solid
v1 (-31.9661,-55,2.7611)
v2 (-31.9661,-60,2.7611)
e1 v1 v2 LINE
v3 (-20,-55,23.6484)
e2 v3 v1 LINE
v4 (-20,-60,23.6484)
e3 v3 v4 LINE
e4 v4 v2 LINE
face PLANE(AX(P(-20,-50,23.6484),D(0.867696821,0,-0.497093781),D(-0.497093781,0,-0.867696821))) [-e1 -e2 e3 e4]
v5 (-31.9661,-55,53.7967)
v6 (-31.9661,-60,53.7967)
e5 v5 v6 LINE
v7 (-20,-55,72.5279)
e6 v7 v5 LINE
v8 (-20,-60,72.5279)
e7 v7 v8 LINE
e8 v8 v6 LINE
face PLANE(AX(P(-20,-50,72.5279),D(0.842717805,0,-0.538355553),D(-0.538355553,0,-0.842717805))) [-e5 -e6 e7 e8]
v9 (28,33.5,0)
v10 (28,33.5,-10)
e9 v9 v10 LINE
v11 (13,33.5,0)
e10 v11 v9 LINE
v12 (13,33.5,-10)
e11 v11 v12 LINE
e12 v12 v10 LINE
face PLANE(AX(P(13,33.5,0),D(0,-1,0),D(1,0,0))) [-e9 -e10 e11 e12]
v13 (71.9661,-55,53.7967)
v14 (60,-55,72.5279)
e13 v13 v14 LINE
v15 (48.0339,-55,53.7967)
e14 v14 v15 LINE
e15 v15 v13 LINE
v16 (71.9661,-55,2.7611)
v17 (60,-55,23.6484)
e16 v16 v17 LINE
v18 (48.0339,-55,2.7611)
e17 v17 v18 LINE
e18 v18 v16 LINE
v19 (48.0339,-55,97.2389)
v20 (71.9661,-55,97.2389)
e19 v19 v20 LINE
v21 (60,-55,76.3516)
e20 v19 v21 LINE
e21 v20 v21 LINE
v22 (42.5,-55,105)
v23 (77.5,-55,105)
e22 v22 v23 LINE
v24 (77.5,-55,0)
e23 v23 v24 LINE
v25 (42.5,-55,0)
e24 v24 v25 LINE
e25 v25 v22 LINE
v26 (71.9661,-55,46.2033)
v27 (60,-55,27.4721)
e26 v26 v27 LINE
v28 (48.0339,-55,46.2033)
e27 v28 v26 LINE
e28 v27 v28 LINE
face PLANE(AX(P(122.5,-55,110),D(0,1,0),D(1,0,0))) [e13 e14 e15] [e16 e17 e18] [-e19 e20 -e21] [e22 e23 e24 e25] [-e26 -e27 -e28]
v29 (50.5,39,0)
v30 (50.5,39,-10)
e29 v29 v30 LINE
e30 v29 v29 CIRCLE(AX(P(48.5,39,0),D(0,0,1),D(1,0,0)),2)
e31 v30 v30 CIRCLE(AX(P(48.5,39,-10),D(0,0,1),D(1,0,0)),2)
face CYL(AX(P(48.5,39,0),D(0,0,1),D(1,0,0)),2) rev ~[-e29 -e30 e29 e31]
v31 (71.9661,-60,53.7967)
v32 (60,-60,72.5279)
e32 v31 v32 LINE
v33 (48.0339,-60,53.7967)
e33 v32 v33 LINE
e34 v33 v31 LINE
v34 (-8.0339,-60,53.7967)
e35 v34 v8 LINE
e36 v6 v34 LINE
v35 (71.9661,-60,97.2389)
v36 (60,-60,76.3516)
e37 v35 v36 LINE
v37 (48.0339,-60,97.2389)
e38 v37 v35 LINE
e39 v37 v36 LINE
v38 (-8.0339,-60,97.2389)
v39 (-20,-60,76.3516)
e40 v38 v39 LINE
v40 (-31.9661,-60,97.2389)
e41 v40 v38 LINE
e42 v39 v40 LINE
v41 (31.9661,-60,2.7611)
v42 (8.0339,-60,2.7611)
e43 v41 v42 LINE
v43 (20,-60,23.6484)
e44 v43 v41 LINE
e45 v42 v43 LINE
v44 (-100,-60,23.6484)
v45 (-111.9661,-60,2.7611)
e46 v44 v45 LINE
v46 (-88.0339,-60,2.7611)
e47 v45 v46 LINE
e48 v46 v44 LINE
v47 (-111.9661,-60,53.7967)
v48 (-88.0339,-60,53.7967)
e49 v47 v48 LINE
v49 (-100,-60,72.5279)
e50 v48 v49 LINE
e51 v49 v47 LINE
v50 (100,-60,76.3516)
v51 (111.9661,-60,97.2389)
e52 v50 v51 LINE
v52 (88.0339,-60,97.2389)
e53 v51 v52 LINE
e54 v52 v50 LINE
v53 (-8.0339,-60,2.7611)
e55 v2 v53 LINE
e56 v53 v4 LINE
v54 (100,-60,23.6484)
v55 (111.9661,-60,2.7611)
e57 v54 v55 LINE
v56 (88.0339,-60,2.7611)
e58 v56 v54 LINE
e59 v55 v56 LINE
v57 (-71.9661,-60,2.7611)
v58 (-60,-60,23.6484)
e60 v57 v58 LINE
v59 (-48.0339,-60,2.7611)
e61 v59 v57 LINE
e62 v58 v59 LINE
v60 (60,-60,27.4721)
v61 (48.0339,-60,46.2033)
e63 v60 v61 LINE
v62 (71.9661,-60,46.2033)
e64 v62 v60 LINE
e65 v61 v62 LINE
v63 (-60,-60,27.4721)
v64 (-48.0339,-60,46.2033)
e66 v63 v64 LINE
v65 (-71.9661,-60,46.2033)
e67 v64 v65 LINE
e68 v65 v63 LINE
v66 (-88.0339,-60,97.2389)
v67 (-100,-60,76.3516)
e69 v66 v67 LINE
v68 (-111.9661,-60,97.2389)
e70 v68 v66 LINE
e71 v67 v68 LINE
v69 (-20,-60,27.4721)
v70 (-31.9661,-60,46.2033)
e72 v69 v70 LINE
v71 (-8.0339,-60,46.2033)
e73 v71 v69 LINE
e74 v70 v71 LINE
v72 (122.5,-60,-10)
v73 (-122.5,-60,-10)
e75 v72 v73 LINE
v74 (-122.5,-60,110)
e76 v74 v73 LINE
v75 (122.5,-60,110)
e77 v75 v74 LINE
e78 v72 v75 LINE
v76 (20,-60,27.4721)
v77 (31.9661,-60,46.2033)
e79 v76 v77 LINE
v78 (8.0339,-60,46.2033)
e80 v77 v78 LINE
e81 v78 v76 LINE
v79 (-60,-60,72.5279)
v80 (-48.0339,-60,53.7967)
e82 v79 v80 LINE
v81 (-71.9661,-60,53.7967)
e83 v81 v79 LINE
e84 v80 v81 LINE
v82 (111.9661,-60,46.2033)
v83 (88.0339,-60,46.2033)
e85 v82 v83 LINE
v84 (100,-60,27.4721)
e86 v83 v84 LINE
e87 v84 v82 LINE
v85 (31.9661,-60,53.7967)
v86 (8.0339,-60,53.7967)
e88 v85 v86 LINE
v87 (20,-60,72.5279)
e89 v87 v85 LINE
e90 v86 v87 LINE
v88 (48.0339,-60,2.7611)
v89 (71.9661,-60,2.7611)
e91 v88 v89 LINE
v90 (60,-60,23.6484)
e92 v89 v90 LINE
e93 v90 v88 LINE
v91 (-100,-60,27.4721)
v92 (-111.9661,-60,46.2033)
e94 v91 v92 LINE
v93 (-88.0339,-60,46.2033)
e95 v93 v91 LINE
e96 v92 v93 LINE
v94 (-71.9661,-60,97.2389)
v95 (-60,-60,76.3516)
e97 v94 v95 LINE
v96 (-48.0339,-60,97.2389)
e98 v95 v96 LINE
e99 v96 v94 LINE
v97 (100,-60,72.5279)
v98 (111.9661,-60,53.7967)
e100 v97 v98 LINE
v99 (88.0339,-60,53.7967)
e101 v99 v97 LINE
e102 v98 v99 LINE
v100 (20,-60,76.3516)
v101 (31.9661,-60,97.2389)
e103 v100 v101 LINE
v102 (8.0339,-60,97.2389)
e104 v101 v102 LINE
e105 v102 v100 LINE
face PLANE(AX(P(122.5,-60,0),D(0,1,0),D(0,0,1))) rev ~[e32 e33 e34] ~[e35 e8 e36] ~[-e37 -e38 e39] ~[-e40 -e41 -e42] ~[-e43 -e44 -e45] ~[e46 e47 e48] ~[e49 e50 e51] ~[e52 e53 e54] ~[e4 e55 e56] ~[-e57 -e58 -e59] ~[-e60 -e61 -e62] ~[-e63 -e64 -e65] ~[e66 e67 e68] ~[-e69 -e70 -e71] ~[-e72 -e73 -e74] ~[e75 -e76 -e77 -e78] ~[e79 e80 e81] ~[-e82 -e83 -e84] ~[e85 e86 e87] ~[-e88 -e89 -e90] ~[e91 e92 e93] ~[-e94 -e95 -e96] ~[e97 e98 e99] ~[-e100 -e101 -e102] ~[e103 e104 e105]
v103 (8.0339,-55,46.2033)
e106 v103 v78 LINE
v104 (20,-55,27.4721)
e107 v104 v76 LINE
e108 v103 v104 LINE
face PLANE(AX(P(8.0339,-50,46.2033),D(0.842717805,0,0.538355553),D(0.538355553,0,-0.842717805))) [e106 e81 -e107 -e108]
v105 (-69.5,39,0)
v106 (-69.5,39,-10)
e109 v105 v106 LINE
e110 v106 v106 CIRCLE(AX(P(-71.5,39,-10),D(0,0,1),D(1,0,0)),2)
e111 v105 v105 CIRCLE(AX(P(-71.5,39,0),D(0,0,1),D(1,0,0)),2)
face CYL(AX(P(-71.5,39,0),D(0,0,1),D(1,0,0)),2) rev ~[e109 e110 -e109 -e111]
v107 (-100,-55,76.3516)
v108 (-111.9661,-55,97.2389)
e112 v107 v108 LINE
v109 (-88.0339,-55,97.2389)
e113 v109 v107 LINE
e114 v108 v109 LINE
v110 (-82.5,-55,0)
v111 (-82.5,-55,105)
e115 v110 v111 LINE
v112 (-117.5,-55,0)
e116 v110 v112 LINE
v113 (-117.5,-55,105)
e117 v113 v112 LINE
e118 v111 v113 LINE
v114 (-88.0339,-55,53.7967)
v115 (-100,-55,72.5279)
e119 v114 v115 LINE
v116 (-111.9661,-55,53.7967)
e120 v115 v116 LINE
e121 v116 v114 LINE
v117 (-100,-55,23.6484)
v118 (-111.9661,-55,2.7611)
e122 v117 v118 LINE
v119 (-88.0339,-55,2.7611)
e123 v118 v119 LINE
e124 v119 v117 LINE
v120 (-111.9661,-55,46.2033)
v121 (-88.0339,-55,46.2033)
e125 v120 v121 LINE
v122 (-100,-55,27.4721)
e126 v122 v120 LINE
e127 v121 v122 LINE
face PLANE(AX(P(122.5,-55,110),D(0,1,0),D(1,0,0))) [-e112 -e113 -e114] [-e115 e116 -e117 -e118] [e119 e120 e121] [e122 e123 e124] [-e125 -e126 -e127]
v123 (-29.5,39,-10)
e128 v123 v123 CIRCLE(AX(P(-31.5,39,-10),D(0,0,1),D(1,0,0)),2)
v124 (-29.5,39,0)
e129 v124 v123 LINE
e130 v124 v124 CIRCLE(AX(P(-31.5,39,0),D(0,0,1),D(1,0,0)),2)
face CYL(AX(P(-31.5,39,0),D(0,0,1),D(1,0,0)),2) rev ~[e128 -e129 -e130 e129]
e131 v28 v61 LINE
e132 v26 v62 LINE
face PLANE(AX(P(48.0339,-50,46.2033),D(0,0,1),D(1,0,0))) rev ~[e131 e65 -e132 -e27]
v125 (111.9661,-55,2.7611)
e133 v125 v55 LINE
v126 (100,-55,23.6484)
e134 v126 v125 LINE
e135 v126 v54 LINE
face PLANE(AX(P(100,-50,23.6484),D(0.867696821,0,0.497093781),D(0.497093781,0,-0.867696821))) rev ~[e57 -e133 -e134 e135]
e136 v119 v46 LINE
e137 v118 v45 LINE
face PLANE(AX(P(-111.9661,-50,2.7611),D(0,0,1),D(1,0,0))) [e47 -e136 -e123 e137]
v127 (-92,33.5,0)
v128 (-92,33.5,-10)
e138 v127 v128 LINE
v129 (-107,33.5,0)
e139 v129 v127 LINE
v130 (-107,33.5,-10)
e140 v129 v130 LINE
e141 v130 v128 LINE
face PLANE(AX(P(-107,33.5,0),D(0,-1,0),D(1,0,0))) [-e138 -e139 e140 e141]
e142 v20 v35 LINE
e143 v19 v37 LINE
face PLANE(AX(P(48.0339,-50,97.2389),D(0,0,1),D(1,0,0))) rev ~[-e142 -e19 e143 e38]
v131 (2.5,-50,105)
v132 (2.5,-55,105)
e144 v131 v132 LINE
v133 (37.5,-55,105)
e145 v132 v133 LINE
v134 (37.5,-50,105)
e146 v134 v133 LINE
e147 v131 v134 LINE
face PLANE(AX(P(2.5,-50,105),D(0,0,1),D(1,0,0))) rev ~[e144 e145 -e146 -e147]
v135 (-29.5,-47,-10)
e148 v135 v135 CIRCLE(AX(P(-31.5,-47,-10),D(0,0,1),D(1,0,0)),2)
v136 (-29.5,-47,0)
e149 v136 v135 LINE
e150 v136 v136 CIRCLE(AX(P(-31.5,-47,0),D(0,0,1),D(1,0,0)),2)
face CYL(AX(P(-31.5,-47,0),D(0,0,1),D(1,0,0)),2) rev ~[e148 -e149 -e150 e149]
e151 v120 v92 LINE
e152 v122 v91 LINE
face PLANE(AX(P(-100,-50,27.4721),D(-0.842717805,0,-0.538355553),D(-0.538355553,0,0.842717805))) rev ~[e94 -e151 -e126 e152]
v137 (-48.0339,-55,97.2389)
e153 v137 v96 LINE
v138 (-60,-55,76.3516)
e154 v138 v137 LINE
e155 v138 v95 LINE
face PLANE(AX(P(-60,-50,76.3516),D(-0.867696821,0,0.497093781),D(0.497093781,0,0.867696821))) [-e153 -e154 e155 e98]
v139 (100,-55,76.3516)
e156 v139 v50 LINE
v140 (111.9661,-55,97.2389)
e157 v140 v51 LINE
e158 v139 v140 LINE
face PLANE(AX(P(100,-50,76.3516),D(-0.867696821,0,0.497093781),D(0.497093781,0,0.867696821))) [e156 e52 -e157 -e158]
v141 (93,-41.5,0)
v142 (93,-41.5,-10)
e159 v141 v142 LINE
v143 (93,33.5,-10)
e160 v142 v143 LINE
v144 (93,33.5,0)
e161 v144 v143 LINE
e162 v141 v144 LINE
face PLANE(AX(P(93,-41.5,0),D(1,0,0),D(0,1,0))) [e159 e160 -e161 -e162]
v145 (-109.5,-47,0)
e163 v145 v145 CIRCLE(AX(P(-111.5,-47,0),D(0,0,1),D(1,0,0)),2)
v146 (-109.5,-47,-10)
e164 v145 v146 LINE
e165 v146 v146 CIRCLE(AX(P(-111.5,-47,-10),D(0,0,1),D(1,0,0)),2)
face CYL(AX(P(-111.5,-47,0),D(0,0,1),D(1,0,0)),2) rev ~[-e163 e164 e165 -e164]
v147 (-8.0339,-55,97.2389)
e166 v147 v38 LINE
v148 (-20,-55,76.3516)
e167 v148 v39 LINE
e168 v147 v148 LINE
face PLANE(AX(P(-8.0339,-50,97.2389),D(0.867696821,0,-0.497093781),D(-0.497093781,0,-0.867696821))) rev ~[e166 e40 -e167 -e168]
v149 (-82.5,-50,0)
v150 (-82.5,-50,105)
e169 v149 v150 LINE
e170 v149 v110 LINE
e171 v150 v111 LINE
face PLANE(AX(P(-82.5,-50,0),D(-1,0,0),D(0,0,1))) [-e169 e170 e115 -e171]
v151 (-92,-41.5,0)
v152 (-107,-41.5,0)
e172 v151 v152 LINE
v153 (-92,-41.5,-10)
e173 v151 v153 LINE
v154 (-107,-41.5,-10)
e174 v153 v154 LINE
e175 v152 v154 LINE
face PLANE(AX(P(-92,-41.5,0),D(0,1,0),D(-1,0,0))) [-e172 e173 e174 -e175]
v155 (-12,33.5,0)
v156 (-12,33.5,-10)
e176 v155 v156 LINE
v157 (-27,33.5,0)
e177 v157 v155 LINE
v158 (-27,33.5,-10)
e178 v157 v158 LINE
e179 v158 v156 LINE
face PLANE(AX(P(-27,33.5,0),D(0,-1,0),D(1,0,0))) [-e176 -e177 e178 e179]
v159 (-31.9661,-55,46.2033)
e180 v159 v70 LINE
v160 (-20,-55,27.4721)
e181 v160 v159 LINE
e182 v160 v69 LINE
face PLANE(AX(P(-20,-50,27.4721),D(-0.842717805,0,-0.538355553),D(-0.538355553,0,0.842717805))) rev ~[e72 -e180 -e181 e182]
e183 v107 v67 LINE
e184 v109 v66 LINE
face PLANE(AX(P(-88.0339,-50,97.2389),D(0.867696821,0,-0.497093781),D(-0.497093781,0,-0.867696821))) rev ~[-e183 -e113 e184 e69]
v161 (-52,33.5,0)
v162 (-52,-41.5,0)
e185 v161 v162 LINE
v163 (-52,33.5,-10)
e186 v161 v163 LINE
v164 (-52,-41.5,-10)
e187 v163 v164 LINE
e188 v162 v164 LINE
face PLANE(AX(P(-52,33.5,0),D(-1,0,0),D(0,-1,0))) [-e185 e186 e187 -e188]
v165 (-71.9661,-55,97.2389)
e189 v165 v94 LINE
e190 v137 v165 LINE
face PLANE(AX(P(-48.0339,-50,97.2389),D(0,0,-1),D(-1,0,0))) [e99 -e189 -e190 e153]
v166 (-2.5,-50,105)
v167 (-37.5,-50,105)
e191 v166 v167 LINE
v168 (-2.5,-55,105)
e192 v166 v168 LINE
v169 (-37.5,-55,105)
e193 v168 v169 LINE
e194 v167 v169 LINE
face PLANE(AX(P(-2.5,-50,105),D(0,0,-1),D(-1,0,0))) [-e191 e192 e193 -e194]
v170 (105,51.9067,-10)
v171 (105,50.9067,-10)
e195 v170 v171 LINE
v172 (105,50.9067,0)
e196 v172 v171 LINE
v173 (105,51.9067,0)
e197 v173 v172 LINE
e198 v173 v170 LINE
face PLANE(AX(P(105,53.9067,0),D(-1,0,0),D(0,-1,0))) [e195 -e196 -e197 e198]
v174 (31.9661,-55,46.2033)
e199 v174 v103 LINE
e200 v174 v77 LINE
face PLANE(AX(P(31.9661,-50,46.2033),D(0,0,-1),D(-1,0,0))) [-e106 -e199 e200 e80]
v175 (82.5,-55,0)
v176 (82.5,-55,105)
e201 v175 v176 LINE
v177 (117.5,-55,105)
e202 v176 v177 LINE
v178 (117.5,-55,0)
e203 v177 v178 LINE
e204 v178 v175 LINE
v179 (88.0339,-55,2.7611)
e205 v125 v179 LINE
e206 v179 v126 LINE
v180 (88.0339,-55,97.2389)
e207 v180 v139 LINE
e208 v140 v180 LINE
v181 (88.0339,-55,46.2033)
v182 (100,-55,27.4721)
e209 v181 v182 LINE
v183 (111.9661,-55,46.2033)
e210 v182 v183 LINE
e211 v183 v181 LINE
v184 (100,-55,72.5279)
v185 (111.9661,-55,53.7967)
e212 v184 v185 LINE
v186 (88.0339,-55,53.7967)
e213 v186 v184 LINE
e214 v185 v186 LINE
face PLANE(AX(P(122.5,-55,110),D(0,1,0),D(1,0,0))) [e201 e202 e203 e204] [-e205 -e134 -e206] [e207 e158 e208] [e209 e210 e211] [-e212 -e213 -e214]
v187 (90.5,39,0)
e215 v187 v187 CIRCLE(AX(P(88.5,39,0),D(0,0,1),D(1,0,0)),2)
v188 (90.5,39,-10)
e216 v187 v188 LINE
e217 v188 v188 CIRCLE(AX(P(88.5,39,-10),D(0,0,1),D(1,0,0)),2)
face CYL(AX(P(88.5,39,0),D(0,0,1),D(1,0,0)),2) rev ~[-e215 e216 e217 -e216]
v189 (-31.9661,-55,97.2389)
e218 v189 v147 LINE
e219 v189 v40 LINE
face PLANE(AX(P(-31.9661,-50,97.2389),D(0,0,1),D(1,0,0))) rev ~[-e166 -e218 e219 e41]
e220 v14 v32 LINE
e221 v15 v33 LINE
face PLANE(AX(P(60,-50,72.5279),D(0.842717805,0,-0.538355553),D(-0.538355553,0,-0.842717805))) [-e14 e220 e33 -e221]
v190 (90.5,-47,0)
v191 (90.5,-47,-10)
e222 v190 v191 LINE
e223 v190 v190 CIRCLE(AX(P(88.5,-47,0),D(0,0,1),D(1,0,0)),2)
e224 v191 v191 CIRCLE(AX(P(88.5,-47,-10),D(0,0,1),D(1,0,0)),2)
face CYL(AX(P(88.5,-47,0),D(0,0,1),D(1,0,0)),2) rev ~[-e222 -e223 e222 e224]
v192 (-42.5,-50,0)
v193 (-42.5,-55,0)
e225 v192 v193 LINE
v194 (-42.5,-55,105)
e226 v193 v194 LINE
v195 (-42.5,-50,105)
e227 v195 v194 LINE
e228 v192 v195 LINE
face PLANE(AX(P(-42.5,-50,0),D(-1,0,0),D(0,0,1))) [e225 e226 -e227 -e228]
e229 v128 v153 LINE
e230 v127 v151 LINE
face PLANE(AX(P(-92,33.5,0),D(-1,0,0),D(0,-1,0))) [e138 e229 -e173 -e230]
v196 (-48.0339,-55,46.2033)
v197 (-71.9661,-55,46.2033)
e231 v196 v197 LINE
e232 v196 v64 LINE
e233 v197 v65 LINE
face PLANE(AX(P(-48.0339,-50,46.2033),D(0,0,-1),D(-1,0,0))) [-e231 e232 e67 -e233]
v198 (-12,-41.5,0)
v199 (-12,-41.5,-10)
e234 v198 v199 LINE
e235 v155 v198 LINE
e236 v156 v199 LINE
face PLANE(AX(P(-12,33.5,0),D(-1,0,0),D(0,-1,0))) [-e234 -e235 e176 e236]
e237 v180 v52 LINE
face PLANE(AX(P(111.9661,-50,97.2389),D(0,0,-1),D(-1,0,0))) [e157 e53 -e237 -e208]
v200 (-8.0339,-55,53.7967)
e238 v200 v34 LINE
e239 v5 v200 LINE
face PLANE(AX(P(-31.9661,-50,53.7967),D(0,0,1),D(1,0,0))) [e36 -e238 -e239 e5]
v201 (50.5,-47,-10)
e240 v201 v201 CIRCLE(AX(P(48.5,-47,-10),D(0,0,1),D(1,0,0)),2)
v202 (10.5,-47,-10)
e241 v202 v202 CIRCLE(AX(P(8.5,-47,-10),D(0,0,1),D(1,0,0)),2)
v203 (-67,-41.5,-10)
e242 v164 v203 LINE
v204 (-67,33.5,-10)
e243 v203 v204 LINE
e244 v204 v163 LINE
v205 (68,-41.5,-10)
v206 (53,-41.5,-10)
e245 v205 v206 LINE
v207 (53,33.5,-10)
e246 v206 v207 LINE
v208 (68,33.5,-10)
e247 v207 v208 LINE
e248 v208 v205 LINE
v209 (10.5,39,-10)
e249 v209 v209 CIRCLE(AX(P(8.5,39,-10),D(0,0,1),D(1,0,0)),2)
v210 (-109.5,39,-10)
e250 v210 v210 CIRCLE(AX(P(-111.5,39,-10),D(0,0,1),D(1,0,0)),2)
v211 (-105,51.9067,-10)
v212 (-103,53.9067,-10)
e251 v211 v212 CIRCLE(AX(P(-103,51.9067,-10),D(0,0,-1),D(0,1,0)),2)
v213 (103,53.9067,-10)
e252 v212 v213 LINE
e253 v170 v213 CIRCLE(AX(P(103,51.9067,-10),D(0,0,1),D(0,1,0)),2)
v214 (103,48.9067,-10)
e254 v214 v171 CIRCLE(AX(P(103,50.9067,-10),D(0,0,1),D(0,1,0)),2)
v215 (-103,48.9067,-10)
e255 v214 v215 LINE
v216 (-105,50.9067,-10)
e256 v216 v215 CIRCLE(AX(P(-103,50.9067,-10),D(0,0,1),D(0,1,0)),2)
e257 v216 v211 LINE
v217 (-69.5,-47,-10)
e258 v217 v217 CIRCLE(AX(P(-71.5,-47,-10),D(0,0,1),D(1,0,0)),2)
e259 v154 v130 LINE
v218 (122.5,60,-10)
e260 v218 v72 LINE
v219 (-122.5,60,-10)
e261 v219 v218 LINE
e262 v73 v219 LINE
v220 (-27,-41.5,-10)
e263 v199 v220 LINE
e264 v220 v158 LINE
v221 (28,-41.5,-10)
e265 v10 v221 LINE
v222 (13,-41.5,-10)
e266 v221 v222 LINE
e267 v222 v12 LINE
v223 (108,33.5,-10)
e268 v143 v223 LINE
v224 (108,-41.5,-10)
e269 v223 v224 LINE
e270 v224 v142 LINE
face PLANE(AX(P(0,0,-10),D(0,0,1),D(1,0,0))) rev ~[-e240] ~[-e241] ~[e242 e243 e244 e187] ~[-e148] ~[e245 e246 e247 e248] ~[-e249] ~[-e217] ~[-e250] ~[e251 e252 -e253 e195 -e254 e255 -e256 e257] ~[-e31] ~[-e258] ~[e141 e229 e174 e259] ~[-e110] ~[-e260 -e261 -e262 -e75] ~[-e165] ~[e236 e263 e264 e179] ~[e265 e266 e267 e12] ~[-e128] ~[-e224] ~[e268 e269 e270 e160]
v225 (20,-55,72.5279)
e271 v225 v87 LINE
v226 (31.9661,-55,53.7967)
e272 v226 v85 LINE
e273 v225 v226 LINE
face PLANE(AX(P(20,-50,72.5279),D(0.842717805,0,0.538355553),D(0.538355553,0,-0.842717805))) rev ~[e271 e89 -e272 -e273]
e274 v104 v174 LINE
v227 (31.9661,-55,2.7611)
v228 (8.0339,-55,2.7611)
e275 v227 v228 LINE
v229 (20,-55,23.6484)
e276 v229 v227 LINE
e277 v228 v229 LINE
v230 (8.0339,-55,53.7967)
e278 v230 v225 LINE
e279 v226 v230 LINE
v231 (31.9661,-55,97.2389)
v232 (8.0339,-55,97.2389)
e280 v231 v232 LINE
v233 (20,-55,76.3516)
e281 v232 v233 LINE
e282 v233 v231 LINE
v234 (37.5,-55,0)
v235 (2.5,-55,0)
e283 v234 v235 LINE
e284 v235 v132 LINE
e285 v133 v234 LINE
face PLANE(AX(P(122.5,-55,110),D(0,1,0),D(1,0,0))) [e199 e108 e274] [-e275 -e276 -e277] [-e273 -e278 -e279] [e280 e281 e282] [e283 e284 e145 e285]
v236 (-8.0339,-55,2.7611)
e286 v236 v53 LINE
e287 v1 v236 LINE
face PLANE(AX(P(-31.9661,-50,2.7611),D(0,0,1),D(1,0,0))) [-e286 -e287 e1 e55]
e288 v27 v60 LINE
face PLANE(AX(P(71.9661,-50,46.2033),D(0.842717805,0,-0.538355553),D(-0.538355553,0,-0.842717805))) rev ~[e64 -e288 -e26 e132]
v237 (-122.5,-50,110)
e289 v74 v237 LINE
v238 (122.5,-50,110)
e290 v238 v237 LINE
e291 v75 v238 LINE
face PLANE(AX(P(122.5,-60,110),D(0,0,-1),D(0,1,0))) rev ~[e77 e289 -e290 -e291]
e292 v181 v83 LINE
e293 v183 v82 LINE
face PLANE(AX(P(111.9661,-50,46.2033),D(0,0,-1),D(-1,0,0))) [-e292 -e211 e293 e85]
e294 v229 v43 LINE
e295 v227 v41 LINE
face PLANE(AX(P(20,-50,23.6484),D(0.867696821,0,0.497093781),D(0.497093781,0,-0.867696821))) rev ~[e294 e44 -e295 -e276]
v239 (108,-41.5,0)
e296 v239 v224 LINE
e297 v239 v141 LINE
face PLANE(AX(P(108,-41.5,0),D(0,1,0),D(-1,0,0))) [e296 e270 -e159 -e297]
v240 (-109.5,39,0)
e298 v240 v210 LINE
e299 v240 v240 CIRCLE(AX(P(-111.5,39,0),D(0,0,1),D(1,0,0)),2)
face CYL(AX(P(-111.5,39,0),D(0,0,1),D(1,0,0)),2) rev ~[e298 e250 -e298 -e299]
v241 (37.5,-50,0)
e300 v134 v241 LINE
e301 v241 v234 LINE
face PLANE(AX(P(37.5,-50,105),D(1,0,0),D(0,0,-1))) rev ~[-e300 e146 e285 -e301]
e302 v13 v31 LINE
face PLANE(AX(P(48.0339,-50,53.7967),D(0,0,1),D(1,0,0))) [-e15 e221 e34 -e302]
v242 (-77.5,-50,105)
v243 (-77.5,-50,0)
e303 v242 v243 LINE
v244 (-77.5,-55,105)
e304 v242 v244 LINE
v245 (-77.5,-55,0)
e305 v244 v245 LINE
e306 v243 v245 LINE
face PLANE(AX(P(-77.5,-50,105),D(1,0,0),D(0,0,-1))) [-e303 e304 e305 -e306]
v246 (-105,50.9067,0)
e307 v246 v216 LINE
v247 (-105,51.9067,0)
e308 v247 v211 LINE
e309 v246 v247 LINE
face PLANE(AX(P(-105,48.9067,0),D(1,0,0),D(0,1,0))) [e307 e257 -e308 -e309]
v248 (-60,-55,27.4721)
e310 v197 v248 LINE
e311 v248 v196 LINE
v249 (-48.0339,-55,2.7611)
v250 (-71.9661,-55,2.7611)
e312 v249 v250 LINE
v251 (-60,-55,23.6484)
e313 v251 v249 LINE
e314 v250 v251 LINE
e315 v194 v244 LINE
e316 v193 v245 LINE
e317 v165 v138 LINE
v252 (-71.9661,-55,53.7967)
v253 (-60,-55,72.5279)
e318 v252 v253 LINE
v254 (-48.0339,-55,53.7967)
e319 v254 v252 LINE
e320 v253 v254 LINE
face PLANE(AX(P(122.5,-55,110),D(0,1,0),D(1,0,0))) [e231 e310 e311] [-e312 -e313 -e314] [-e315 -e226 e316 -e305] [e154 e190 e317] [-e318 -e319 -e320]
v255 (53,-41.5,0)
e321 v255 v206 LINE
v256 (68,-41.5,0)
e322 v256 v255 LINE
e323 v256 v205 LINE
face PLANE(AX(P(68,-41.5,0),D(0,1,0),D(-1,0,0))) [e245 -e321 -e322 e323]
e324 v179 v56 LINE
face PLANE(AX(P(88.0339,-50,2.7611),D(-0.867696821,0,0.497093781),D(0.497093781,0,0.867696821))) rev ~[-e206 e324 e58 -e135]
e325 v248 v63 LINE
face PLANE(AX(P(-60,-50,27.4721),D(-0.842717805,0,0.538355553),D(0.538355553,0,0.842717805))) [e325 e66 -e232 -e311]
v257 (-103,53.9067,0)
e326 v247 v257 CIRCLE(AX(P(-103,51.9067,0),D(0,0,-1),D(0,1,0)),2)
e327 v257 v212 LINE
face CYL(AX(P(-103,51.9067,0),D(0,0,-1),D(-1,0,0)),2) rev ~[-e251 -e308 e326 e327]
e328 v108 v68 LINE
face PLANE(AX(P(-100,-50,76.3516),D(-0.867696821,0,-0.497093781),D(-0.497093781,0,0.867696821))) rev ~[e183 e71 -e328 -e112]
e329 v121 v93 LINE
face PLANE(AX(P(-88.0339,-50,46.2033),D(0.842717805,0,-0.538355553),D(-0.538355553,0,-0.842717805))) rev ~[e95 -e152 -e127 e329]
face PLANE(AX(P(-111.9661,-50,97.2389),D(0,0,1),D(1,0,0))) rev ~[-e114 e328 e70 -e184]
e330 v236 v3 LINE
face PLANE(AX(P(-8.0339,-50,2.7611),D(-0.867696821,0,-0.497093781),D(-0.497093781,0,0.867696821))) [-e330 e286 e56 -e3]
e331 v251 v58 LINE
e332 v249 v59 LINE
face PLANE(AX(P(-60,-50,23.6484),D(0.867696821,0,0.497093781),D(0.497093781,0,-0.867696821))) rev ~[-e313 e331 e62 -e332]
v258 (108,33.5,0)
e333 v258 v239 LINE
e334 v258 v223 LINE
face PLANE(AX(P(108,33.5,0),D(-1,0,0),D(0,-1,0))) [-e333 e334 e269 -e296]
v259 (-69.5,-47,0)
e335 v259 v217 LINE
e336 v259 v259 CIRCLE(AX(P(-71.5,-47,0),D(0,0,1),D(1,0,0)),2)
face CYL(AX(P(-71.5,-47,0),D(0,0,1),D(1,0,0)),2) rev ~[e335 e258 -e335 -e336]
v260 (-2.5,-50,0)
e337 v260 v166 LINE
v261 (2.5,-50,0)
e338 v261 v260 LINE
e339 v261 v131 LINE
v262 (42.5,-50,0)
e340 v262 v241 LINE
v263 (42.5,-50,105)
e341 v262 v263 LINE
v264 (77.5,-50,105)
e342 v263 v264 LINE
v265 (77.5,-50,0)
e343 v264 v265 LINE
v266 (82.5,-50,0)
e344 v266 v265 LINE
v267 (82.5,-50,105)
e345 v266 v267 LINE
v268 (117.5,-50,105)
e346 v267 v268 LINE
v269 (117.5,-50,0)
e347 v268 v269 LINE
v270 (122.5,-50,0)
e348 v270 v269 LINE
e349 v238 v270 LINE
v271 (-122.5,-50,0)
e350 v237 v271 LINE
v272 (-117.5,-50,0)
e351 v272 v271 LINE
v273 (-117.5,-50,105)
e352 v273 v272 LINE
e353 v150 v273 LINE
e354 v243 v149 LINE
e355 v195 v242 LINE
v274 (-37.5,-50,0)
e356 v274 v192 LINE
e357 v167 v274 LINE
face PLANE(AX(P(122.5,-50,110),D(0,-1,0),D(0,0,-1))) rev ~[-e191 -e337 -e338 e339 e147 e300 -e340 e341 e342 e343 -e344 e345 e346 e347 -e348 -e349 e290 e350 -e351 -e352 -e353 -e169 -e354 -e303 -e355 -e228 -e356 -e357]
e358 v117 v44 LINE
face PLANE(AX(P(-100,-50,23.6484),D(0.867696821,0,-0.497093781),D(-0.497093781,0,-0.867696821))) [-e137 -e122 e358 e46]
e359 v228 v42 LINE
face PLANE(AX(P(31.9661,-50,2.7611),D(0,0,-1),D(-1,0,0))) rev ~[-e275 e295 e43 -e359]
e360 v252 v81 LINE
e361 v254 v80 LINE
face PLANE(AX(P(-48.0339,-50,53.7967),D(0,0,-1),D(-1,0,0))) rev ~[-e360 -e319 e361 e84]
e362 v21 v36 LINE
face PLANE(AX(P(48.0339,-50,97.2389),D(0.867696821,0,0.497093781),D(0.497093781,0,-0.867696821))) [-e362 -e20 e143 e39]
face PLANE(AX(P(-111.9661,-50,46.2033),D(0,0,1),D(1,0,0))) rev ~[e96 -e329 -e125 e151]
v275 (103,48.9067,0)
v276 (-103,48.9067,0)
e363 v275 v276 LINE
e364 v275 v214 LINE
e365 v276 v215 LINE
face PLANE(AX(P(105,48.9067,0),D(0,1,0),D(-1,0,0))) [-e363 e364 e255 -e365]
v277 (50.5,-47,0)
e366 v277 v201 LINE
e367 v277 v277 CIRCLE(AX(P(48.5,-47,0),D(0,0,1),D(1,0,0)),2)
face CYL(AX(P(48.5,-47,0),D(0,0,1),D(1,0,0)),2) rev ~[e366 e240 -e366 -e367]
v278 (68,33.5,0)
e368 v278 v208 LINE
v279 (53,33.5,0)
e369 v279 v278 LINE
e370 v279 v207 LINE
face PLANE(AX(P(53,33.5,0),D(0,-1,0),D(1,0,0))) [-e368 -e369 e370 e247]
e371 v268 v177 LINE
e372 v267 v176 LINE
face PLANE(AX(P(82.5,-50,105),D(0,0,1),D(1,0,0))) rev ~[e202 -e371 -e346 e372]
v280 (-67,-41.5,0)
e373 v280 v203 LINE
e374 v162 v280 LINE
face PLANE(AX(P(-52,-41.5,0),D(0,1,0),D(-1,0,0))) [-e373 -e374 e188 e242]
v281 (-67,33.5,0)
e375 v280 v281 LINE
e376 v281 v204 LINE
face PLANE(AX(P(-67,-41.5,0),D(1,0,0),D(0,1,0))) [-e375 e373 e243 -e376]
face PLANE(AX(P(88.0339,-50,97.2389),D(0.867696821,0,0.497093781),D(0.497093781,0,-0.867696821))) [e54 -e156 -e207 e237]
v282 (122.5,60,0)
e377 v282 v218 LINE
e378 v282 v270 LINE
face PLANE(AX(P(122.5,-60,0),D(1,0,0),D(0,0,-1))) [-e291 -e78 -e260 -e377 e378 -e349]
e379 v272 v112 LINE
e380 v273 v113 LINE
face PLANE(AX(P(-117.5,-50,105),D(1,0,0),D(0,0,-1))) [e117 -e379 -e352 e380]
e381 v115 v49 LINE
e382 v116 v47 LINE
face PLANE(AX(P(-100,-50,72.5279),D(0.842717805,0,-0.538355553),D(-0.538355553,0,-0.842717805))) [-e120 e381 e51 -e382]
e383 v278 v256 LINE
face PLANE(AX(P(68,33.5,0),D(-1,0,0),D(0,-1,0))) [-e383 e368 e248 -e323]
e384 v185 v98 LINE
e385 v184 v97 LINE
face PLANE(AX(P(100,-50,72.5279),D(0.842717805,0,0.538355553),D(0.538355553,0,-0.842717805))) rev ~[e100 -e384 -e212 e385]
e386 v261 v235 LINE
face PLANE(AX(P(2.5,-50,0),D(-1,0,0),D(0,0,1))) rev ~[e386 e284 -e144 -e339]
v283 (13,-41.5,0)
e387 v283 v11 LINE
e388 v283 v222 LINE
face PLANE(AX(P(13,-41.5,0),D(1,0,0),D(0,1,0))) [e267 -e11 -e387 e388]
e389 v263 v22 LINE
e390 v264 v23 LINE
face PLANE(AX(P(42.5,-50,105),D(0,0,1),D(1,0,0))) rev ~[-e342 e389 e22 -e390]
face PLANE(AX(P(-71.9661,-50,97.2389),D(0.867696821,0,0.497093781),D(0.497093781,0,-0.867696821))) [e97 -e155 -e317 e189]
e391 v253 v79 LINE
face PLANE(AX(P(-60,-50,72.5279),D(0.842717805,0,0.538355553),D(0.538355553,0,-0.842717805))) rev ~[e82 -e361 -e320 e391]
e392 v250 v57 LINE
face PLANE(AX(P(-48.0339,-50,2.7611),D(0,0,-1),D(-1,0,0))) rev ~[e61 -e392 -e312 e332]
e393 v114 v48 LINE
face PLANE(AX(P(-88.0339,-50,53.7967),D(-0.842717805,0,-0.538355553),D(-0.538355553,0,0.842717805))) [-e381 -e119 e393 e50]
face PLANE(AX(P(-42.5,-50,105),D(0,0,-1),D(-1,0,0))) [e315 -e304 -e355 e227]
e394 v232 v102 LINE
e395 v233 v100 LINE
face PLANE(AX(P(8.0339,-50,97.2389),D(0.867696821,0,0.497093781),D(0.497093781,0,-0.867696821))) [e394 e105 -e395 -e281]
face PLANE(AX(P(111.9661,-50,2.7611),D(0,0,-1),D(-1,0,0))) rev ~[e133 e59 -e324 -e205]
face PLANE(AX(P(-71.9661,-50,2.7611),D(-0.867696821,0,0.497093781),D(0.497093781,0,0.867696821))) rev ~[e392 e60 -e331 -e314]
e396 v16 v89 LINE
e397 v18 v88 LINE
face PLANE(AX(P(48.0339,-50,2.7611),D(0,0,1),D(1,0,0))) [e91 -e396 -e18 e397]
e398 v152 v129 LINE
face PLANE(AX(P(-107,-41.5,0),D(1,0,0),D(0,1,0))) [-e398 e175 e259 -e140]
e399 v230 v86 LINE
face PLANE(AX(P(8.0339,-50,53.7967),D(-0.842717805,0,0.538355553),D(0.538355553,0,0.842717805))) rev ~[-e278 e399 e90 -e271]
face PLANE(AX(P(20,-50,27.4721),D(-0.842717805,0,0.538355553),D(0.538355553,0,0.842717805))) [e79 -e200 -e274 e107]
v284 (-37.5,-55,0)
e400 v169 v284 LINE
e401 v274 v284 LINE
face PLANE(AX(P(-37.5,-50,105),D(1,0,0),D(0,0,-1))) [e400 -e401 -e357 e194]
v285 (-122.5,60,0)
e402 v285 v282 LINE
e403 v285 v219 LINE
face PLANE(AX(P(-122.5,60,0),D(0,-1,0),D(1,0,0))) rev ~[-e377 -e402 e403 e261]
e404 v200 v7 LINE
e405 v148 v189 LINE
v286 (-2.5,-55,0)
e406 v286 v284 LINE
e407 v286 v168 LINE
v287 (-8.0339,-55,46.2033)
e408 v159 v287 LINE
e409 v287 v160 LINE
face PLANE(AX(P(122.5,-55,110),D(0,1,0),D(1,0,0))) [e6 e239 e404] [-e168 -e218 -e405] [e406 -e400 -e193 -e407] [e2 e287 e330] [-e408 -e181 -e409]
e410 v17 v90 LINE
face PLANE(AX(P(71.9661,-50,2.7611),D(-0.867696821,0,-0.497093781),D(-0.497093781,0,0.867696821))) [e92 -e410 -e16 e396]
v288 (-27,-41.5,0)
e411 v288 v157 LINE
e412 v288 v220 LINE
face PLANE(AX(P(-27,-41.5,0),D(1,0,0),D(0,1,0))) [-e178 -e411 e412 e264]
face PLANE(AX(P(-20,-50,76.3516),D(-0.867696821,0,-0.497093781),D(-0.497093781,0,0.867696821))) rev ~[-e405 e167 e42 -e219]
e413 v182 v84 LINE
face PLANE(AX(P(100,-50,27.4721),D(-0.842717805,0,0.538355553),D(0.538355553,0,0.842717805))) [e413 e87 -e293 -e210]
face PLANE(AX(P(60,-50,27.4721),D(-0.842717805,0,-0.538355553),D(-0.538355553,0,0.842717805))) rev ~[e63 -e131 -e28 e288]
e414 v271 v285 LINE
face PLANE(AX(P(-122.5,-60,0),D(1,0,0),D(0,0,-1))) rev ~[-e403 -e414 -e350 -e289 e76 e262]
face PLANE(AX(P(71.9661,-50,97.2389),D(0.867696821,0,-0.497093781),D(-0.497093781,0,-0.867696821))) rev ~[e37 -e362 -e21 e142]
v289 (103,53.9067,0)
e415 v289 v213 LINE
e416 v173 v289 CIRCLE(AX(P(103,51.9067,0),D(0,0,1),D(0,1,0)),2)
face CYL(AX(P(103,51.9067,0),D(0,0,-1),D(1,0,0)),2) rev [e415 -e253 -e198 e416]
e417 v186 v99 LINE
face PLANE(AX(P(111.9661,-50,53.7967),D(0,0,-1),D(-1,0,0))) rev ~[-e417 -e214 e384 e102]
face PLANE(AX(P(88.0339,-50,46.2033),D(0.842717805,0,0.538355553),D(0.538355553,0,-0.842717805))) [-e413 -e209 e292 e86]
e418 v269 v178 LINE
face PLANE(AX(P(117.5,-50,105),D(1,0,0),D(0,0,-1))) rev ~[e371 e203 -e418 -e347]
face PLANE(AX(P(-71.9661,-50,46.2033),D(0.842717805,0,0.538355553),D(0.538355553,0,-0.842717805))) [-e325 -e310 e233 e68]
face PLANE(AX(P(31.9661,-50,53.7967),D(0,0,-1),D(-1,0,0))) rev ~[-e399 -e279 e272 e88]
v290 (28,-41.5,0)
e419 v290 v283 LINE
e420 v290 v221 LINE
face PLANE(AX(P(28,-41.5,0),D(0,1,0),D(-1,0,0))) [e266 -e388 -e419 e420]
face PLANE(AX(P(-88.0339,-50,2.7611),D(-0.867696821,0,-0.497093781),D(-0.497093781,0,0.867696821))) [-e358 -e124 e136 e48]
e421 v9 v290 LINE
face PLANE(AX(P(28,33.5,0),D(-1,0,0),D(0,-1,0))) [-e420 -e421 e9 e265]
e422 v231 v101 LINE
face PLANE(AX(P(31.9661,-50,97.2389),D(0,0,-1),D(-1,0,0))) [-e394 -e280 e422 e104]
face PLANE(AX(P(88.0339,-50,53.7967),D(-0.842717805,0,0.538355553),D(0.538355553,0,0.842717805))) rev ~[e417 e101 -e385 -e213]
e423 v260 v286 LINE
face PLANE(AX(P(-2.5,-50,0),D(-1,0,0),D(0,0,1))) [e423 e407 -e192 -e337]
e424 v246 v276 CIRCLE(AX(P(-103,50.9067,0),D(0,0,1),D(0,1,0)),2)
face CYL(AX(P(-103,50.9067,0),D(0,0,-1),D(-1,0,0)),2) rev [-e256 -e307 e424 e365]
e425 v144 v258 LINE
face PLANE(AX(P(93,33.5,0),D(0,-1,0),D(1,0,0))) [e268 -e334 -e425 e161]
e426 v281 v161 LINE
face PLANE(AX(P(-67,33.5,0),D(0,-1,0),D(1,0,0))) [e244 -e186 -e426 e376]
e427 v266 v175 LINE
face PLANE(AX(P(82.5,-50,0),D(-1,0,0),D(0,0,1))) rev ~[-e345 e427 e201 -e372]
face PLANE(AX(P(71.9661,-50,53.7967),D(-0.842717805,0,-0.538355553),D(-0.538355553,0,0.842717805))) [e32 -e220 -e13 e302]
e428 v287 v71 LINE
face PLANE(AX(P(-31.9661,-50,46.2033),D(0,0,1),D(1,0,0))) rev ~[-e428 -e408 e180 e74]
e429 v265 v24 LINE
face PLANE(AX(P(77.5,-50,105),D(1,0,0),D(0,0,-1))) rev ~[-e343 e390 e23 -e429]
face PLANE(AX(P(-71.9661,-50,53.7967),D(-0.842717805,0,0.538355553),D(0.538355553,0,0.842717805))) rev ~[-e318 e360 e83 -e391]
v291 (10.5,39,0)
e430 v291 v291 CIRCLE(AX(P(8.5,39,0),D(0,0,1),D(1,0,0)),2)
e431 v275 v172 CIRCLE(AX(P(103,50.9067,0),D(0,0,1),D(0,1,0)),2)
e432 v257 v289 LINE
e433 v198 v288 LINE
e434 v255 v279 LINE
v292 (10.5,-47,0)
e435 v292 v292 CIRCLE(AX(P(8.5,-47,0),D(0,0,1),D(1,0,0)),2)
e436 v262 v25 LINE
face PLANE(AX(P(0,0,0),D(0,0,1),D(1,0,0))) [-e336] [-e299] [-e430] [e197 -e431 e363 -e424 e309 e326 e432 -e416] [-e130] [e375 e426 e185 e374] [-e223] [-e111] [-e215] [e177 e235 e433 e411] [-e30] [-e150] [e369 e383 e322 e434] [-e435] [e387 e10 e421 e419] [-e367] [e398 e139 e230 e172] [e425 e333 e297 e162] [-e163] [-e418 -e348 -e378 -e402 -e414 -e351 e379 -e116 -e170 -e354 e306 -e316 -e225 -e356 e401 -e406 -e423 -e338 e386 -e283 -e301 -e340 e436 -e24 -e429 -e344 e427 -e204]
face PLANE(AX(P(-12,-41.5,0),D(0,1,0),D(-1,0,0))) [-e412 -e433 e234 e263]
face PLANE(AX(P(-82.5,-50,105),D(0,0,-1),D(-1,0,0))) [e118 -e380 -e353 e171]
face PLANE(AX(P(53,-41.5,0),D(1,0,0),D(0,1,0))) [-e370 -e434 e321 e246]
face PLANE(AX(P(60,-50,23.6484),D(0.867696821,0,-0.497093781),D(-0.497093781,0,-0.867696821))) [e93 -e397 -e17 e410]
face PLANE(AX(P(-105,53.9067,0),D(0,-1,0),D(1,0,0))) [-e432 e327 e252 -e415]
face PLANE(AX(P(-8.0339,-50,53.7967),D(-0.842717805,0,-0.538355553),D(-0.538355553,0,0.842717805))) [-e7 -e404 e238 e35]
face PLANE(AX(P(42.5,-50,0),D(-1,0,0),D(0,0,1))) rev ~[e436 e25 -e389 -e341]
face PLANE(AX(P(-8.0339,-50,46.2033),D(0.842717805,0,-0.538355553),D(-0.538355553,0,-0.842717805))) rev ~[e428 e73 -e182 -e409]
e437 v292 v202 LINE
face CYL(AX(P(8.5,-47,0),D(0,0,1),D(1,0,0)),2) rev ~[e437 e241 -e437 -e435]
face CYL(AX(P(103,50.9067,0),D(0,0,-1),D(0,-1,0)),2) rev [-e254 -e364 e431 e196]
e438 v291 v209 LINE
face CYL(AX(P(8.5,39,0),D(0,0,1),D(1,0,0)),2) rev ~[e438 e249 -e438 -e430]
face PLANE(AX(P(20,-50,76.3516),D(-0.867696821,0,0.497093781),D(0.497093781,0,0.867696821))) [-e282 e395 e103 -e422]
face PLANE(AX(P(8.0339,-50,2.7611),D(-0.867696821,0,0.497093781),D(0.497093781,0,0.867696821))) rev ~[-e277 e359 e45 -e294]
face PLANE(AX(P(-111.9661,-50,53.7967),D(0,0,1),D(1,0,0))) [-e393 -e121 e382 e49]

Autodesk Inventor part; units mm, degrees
ref_plane "YZ Plane" through (0, 0, 0) normal (1, 0, 0) x (0, 1, 0)
ref_plane "XZ Plane" through (0, 0, 0) normal (0, 1, 0) x (-1, 0, 0)
ref_plane "XY Plane" through (0, 0, 0) normal (0, 0, 1) x (1, 0, 0)
sketch "Sketch1" plane through (0, 0, 0) normal (0, 0, 1) x (1, 0, 0)
  line L0 (-122.5, 60) -> (122.5, 60)
  line L1 (122.5, 60) -> (122.5, -60)
  line L2 (122.5, -60) -> (-122.5, -60)
  line L3 (-122.5, -60) -> (-122.5, 60)
  line L4 (-122.5, 60) -> (122.5, -60) construction
  line L5 (122.5, 60) -> (-122.5, -60) construction
  line L6 (-111.5, -60) -> (-111.5, 60) construction
  line L7 (-122.5, -47) -> (122.5, -47) construction
  circle A0 centre (-111.5, -47) radius 2
  circle A1 centre (-111.5, 39) radius 2
  line L8 (-111.5, 39) -> (122.5, 39) construction
  circle A2 centre (-71.5, -47) radius 2
  circle A3 centre (-31.5, -47) radius 2
  circle A4 centre (8.5, -47) radius 2
  circle A5 centre (48.5, -47) radius 2
  circle A6 centre (88.5, -47) radius 2
  line L9 (0, 60) -> (0, -60) construction
  circle A7 centre (-71.5, 39) radius 2
  circle A8 centre (-31.5, 39) radius 2
  circle A9 centre (8.5, 39) radius 2
  circle A10 centre (48.5, 39) radius 2
  circle A11 centre (88.5, 39) radius 2
  line L10 (-31.5, 39) -> (-31.5, -47) construction
  line L11 (-99.5, 60) -> (-99.5, -60) construction
  line L12 (-122.5, -4) -> (122.5, -4) construction
  line L13 (-107, 33.5) -> (-92, 33.5)
  line L14 (-92, 33.5) -> (-92, -41.5)
  line L15 (-92, -41.5) -> (-107, -41.5)
  line L16 (-107, -41.5) -> (-107, 33.5)
  line L17 (-107, 33.5) -> (-92, -41.5) construction
  line L18 (-92, 33.5) -> (-107, -41.5) construction
  line L19 (-67, 33.5) -> (-52, 33.5)
  line L20 (-52, 33.5) -> (-52, -41.5)
  line L21 (-67, -41.5) -> (-67, 33.5)
  line L22 (-52, -41.5) -> (-67, -41.5)
  line L23 (-27, 33.5) -> (-12, 33.5)
  line L24 (-12, 33.5) -> (-12, -41.5)
  line L25 (-27, -41.5) -> (-27, 33.5)
  line L26 (-12, -41.5) -> (-27, -41.5)
  line L27 (13, 33.5) -> (28, 33.5)
  line L28 (28, 33.5) -> (28, -41.5)
  line L29 (13, -41.5) -> (13, 33.5)
  line L30 (28, -41.5) -> (13, -41.5)
  line L31 (53, 33.5) -> (68, 33.5)
  line L32 (68, 33.5) -> (68, -41.5)
  line L33 (53, -41.5) -> (53, 33.5)
  line L34 (68, -41.5) -> (53, -41.5)
  line L35 (93, 33.5) -> (108, 33.5)
  line L36 (108, 33.5) -> (108, -41.5)
  line L37 (93, -41.5) -> (93, 33.5)
  line L38 (108, -41.5) -> (93, -41.5)
  line L39 (-105, 53.9067) -> (105, 53.9067)
  line L40 (105, 53.9067) -> (105, 48.9067)
  line L41 (105, 48.9067) -> (-105, 48.9067)
  line L42 (-105, 48.9067) -> (-105, 53.9067)
  line L43 (-105, 53.9067) -> (105, 48.9067) construction
  line L44 (105, 53.9067) -> (-105, 48.9067) construction
  point P0 (0, 0)
  point P1 (-99.5, -4)
  point P2 (0, 51.4067)
  dimension "d0" = 245
  dimension "d1" = 120
  dimension "d20" = 11
  dimension "d21" = 13
  dimension "d22" = 4
  dimension "d23" = 4
  dimension "d24" = 86
  dimension "d27" = 40
  dimension "d32" = 34
  dimension "d35" = 40
  dimension "d43" = 12
  dimension "d44" = 43
  dimension "d45" = 15
  dimension "d46" = 75
  dimension "d49" = 40
  dimension "d56" = 210
  dimension "d57" = 5
extrude "Extrusion1" add sketch "Sketch1" against normal blind 10 contours L0 L1 L2 L3 | A0 | A1 | A2 | A3 | A4 | A5 | A6 | A7 | A8 | A9 | A10 | A11 | L13 L14 L15 L16 | L19 L20 L22 L21 | L23 L24 L26 L25 | L27 L28 L30 L29 | L31 L32 L34 L33 | L35 L36 L38 L37 | L39 L40 L41 L42
sketch "Sketch2" plane through (122.5, -60, 0) normal (1, 0, 0) x (0, 0, -1)
  line L0 (0, 0) -> (0, 120) projected
  line L1 (0, 0) -> (-110, 0)
  line L2 (-110, 0) -> (-110, 10)
  line L3 (-110, 10) -> (0, 10)
  line L4 (0, 10) -> (0, 0)
  point P0 (0, 60)
  dimension "d4" = 110
  dimension "d5" = 10
extrude "Extrusion2" add sketch "Sketch2" against normal blind 245
sketch "Sketch3" plane through (122.5, -50, 110) normal (0, 1, 0) x (1, 0, 0)
  line L0 (0, 110) -> (-245, 110) projected
  line L1 (-240, 110) -> (-205, 110)
  line L2 (-205, 110) -> (-205, 5)
  line L3 (-205, 5) -> (-240, 5)
  line L4 (-240, 5) -> (-240, 110)
  line L5 (-245, 0) -> (-245, 110) projected
  line L6 (-245, 120) -> (-245, 0) projected
  line L7 (-245, 60) -> (0, 60) construction
  line L8 (0, 0) -> (0, 120) projected
  line L9 (-200, 110) -> (-165, 110)
  line L10 (-165, 110) -> (-165, 5)
  line L11 (-165, 5) -> (-200, 5)
  line L12 (-200, 5) -> (-200, 110)
  line L13 (-160, 110) -> (-125, 110)
  line L14 (-125, 110) -> (-125, 5)
  line L15 (-125, 5) -> (-160, 5)
  line L16 (-160, 5) -> (-160, 110)
  line L17 (-122.5, 110) -> (-122.5, 0) construction
  line L18 (0, 0) -> (-245, 0) construction
  line L19 (-40, 110) -> (-40, 5)
  line L20 (-40, 5) -> (-5, 5)
  line L21 (-5, 5) -> (-5, 110)
  line L22 (-80, 110) -> (-80, 5)
  line L23 (-80, 5) -> (-45, 5)
  line L24 (-45, 5) -> (-45, 110)
  line L25 (-120, 110) -> (-120, 5)
  line L26 (-120, 5) -> (-85, 5)
  line L27 (-85, 5) -> (-85, 110)
  line L28 (-234.4661, 12.7611) -> (-210.5339, 12.7611)
  line L29 (-210.5339, 12.7611) -> (-222.5, 33.6484)
  line L30 (-222.5, 33.6484) -> (-234.4661, 12.7611)
  line L31 (-222.5, 37.4721) -> (-234.4661, 56.2033)
  line L32 (-234.4661, 56.2033) -> (-210.5339, 56.2033)
  line L33 (-210.5339, 56.2033) -> (-222.5, 37.4721)
  line L34 (-210.5339, 107.2389) -> (-222.5, 86.3516)
  line L35 (-222.5, 86.3516) -> (-234.4661, 107.2389)
  line L36 (-222.5, 82.5279) -> (-234.4661, 63.7967)
  line L37 (-234.4661, 63.7967) -> (-210.5339, 63.7967)
  line L38 (-210.5339, 63.7967) -> (-222.5, 82.5279)
  line L39 (-234.4661, 107.2389) -> (-210.5339, 107.2389)
  line L40 (-205, 110) -> (-200, 110) construction
  line L41 (-200, 110) -> (-200, 5) construction
  line L42 (-200, 5) -> (-205, 5) construction
  line L43 (-205, 5) -> (-205, 110) construction
  line L44 (-202.5, 110) -> (-202.5, 5) construction
  line L45 (-170.5339, 12.7611) -> (-194.4661, 12.7611)
  line L46 (-194.4661, 12.7611) -> (-182.5, 33.6484)
  line L47 (-182.5, 33.6484) -> (-170.5339, 12.7611)
  line L48 (-182.5, 37.4721) -> (-170.5339, 56.2033)
  line L49 (-170.5339, 56.2033) -> (-194.4661, 56.2033)
  line L50 (-194.4661, 56.2033) -> (-182.5, 37.4721)
  line L51 (-194.4661, 63.7967) -> (-182.5, 82.5279)
  line L52 (-170.5339, 63.7967) -> (-194.4661, 63.7967)
  line L53 (-182.5, 82.5279) -> (-170.5339, 63.7967)
  line L54 (-182.5, 86.3516) -> (-170.5339, 107.2389)
  line L55 (-194.4661, 107.2389) -> (-182.5, 86.3516)
  line L56 (-170.5339, 107.2389) -> (-194.4661, 107.2389)
  line L57 (-165, 110) -> (-160, 110) construction
  line L58 (-160, 110) -> (-160, 5) construction
  line L59 (-160, 5) -> (-165, 5) construction
  line L60 (-165, 5) -> (-165, 110) construction
  line L61 (-162.5, 110) -> (-162.5, 5) construction
  line L62 (-130.5339, 12.7611) -> (-142.5, 33.6484)
  line L63 (-142.5, 33.6484) -> (-154.4661, 12.7611)
  line L64 (-154.4661, 12.7611) -> (-130.5339, 12.7611)
  line L65 (-142.5, 37.4721) -> (-154.4661, 56.2033)
  line L66 (-130.5339, 56.2033) -> (-142.5, 37.4721)
  line L67 (-154.4661, 56.2033) -> (-130.5339, 56.2033)
  line L68 (-154.4661, 63.7967) -> (-130.5339, 63.7967)
  line L69 (-130.5339, 63.7967) -> (-142.5, 82.5279)
  line L70 (-142.5, 82.5279) -> (-154.4661, 63.7967)
  line L71 (-142.5, 86.3516) -> (-154.4661, 107.2389)
  line L72 (-130.5339, 107.2389) -> (-142.5, 86.3516)
  line L73 (-154.4661, 107.2389) -> (-130.5339, 107.2389)
  line L74 (-10.5339, 12.7611) -> (-34.4661, 12.7611)
  line L75 (-22.5, 33.6484) -> (-10.5339, 12.7611)
  line L76 (-22.5, 37.4721) -> (-10.5339, 56.2033)
  line L77 (-10.5339, 56.2033) -> (-34.4661, 56.2033)
  line L78 (-34.4661, 56.2033) -> (-22.5, 37.4721)
  line L79 (-34.4661, 63.7967) -> (-22.5, 82.5279)
  line L80 (-10.5339, 63.7967) -> (-34.4661, 63.7967)
  line L81 (-22.5, 82.5279) -> (-10.5339, 63.7967)
  line L82 (-22.5, 86.3516) -> (-10.5339, 107.2389)
  line L83 (-34.4661, 107.2389) -> (-22.5, 86.3516)
  line L84 (-10.5339, 107.2389) -> (-34.4661, 107.2389)
  line L85 (-50.5339, 12.7611) -> (-62.5, 33.6484)
  line L86 (-74.4661, 12.7611) -> (-50.5339, 12.7611)
  line L87 (-62.5, 37.4721) -> (-74.4661, 56.2033)
  line L88 (-50.5339, 56.2033) -> (-62.5, 37.4721)
  line L89 (-74.4661, 56.2033) -> (-50.5339, 56.2033)
  line L90 (-74.4661, 63.7967) -> (-50.5339, 63.7967)
  line L91 (-50.5339, 63.7967) -> (-62.5, 82.5279)
  line L92 (-62.5, 82.5279) -> (-74.4661, 63.7967)
  line L93 (-62.5, 86.3516) -> (-74.4661, 107.2389)
  line L94 (-50.5339, 107.2389) -> (-62.5, 86.3516)
  line L95 (-74.4661, 107.2389) -> (-50.5339, 107.2389)
  line L96 (-102.5, 33.6484) -> (-90.5339, 12.7611)
  line L97 (-90.5339, 12.7611) -> (-114.4661, 12.7611)
  line L98 (-114.4661, 12.7611) -> (-102.5, 33.6484)
  line L99 (-114.4661, 56.2033) -> (-102.5, 37.4721)
  line L100 (-102.5, 37.4721) -> (-90.5339, 56.2033)
  line L101 (-90.5339, 56.2033) -> (-114.4661, 56.2033)
  line L102 (-90.5339, 63.7967) -> (-114.4661, 63.7967)
  line L103 (-102.5, 82.5279) -> (-90.5339, 63.7967)
  line L104 (-114.4661, 63.7967) -> (-102.5, 82.5279)
  line L105 (-114.4661, 107.2389) -> (-102.5, 86.3516)
  line L106 (-102.5, 86.3516) -> (-90.5339, 107.2389)
  line L107 (-90.5339, 107.2389) -> (-114.4661, 107.2389)
  line L108 (-74.4661, 12.7611) -> (-62.5, 33.6484)
  line L109 (-34.4661, 12.7611) -> (-22.5, 33.6484)
  dimension "d8" = 35
  dimension "d9" = 105
  dimension "d10" = 5
  dimension "d11" = 35
  dimension "d12" = 35
  dimension "d13" = 105
  dimension "d14" = 5
  dimension "d15" = 5
extrude "Extrusion3" cut sketch "Sketch3" against normal blind 5 contours L21 L20 L19 L0 | L2 L3 L4 L0 | L10 L11 L12 L0 | L14 L15 L16 L0 | L27 L26 L25 L0 | L24 L23 L22 L0 | L30 L29 L28 | L31 L32 L33 | L34 L35 L39 | L38 L37 L36 | L45 L46 L47 | L50 L49 L48 | L51 L53 L52 | L55 L56 L54 | L64 L63 L62 | L65 L67 L66 | L70 L69 L68 | L71 L73 L72 | L74 L109 L75 | L78 L77 L76 | L79 L81 L80 | L83 L84 L82 | L86 L108 L85 | L87 L89 L88 | L92 L91 L90 | L93 L95 L94 | L96 L97 L98 | L101 L100 L99 | L102 L104 L103 | L107 L106 L105
extrude "Extrusion4" cut sketch "Sketch3" against normal blind 10 contours L30 L29 L28 | L31 L32 L33 | L34 L35 L39 | L38 L37 L36 | L45 L46 L47 | L50 L49 L48 | L51 L53 L52 | L55 L56 L54 | L64 L63 L62 | L65 L67 L66 | L70 L69 L68 | L71 L73 L72 | L74 L109 L75 | L78 L77 L76 | L79 L81 L80 | L83 L84 L82 | L86 L108 L85 | L87 L89 L88 | L92 L91 L90 | L93 L95 L94 | L96 L97 L98 | L101 L100 L99 | L102 L104 L103 | L107 L106 L105
extrude "Extrusion5" cut sketch "Sketch1" against normal blind 10 contours A0 | A1 | A2 | A3 | A4 | A5 | A6 | A7 | A8 | A9 | A10 | A11
extrude "Extrusion6" cut sketch "Sketch1" against normal blind 10 contours L13 L14 L15 L16 | L19 L20 L22 L21 | L23 L24 L26 L25 | L27 L28 L30 L29 | L31 L32 L34 L33 | L35 L36 L38 L37
extrude "Extrusion7" cut sketch "Sketch1" against normal blind 10 contours L39 L40 L41 L42
fillet "Fillet1" radius 2 4 edges at (-105, 48.9067, -5) (-105, 53.9067, -5) (105, 48.9067, -5) (105, 53.9067, -5)
properties part number "controllbox_1"
